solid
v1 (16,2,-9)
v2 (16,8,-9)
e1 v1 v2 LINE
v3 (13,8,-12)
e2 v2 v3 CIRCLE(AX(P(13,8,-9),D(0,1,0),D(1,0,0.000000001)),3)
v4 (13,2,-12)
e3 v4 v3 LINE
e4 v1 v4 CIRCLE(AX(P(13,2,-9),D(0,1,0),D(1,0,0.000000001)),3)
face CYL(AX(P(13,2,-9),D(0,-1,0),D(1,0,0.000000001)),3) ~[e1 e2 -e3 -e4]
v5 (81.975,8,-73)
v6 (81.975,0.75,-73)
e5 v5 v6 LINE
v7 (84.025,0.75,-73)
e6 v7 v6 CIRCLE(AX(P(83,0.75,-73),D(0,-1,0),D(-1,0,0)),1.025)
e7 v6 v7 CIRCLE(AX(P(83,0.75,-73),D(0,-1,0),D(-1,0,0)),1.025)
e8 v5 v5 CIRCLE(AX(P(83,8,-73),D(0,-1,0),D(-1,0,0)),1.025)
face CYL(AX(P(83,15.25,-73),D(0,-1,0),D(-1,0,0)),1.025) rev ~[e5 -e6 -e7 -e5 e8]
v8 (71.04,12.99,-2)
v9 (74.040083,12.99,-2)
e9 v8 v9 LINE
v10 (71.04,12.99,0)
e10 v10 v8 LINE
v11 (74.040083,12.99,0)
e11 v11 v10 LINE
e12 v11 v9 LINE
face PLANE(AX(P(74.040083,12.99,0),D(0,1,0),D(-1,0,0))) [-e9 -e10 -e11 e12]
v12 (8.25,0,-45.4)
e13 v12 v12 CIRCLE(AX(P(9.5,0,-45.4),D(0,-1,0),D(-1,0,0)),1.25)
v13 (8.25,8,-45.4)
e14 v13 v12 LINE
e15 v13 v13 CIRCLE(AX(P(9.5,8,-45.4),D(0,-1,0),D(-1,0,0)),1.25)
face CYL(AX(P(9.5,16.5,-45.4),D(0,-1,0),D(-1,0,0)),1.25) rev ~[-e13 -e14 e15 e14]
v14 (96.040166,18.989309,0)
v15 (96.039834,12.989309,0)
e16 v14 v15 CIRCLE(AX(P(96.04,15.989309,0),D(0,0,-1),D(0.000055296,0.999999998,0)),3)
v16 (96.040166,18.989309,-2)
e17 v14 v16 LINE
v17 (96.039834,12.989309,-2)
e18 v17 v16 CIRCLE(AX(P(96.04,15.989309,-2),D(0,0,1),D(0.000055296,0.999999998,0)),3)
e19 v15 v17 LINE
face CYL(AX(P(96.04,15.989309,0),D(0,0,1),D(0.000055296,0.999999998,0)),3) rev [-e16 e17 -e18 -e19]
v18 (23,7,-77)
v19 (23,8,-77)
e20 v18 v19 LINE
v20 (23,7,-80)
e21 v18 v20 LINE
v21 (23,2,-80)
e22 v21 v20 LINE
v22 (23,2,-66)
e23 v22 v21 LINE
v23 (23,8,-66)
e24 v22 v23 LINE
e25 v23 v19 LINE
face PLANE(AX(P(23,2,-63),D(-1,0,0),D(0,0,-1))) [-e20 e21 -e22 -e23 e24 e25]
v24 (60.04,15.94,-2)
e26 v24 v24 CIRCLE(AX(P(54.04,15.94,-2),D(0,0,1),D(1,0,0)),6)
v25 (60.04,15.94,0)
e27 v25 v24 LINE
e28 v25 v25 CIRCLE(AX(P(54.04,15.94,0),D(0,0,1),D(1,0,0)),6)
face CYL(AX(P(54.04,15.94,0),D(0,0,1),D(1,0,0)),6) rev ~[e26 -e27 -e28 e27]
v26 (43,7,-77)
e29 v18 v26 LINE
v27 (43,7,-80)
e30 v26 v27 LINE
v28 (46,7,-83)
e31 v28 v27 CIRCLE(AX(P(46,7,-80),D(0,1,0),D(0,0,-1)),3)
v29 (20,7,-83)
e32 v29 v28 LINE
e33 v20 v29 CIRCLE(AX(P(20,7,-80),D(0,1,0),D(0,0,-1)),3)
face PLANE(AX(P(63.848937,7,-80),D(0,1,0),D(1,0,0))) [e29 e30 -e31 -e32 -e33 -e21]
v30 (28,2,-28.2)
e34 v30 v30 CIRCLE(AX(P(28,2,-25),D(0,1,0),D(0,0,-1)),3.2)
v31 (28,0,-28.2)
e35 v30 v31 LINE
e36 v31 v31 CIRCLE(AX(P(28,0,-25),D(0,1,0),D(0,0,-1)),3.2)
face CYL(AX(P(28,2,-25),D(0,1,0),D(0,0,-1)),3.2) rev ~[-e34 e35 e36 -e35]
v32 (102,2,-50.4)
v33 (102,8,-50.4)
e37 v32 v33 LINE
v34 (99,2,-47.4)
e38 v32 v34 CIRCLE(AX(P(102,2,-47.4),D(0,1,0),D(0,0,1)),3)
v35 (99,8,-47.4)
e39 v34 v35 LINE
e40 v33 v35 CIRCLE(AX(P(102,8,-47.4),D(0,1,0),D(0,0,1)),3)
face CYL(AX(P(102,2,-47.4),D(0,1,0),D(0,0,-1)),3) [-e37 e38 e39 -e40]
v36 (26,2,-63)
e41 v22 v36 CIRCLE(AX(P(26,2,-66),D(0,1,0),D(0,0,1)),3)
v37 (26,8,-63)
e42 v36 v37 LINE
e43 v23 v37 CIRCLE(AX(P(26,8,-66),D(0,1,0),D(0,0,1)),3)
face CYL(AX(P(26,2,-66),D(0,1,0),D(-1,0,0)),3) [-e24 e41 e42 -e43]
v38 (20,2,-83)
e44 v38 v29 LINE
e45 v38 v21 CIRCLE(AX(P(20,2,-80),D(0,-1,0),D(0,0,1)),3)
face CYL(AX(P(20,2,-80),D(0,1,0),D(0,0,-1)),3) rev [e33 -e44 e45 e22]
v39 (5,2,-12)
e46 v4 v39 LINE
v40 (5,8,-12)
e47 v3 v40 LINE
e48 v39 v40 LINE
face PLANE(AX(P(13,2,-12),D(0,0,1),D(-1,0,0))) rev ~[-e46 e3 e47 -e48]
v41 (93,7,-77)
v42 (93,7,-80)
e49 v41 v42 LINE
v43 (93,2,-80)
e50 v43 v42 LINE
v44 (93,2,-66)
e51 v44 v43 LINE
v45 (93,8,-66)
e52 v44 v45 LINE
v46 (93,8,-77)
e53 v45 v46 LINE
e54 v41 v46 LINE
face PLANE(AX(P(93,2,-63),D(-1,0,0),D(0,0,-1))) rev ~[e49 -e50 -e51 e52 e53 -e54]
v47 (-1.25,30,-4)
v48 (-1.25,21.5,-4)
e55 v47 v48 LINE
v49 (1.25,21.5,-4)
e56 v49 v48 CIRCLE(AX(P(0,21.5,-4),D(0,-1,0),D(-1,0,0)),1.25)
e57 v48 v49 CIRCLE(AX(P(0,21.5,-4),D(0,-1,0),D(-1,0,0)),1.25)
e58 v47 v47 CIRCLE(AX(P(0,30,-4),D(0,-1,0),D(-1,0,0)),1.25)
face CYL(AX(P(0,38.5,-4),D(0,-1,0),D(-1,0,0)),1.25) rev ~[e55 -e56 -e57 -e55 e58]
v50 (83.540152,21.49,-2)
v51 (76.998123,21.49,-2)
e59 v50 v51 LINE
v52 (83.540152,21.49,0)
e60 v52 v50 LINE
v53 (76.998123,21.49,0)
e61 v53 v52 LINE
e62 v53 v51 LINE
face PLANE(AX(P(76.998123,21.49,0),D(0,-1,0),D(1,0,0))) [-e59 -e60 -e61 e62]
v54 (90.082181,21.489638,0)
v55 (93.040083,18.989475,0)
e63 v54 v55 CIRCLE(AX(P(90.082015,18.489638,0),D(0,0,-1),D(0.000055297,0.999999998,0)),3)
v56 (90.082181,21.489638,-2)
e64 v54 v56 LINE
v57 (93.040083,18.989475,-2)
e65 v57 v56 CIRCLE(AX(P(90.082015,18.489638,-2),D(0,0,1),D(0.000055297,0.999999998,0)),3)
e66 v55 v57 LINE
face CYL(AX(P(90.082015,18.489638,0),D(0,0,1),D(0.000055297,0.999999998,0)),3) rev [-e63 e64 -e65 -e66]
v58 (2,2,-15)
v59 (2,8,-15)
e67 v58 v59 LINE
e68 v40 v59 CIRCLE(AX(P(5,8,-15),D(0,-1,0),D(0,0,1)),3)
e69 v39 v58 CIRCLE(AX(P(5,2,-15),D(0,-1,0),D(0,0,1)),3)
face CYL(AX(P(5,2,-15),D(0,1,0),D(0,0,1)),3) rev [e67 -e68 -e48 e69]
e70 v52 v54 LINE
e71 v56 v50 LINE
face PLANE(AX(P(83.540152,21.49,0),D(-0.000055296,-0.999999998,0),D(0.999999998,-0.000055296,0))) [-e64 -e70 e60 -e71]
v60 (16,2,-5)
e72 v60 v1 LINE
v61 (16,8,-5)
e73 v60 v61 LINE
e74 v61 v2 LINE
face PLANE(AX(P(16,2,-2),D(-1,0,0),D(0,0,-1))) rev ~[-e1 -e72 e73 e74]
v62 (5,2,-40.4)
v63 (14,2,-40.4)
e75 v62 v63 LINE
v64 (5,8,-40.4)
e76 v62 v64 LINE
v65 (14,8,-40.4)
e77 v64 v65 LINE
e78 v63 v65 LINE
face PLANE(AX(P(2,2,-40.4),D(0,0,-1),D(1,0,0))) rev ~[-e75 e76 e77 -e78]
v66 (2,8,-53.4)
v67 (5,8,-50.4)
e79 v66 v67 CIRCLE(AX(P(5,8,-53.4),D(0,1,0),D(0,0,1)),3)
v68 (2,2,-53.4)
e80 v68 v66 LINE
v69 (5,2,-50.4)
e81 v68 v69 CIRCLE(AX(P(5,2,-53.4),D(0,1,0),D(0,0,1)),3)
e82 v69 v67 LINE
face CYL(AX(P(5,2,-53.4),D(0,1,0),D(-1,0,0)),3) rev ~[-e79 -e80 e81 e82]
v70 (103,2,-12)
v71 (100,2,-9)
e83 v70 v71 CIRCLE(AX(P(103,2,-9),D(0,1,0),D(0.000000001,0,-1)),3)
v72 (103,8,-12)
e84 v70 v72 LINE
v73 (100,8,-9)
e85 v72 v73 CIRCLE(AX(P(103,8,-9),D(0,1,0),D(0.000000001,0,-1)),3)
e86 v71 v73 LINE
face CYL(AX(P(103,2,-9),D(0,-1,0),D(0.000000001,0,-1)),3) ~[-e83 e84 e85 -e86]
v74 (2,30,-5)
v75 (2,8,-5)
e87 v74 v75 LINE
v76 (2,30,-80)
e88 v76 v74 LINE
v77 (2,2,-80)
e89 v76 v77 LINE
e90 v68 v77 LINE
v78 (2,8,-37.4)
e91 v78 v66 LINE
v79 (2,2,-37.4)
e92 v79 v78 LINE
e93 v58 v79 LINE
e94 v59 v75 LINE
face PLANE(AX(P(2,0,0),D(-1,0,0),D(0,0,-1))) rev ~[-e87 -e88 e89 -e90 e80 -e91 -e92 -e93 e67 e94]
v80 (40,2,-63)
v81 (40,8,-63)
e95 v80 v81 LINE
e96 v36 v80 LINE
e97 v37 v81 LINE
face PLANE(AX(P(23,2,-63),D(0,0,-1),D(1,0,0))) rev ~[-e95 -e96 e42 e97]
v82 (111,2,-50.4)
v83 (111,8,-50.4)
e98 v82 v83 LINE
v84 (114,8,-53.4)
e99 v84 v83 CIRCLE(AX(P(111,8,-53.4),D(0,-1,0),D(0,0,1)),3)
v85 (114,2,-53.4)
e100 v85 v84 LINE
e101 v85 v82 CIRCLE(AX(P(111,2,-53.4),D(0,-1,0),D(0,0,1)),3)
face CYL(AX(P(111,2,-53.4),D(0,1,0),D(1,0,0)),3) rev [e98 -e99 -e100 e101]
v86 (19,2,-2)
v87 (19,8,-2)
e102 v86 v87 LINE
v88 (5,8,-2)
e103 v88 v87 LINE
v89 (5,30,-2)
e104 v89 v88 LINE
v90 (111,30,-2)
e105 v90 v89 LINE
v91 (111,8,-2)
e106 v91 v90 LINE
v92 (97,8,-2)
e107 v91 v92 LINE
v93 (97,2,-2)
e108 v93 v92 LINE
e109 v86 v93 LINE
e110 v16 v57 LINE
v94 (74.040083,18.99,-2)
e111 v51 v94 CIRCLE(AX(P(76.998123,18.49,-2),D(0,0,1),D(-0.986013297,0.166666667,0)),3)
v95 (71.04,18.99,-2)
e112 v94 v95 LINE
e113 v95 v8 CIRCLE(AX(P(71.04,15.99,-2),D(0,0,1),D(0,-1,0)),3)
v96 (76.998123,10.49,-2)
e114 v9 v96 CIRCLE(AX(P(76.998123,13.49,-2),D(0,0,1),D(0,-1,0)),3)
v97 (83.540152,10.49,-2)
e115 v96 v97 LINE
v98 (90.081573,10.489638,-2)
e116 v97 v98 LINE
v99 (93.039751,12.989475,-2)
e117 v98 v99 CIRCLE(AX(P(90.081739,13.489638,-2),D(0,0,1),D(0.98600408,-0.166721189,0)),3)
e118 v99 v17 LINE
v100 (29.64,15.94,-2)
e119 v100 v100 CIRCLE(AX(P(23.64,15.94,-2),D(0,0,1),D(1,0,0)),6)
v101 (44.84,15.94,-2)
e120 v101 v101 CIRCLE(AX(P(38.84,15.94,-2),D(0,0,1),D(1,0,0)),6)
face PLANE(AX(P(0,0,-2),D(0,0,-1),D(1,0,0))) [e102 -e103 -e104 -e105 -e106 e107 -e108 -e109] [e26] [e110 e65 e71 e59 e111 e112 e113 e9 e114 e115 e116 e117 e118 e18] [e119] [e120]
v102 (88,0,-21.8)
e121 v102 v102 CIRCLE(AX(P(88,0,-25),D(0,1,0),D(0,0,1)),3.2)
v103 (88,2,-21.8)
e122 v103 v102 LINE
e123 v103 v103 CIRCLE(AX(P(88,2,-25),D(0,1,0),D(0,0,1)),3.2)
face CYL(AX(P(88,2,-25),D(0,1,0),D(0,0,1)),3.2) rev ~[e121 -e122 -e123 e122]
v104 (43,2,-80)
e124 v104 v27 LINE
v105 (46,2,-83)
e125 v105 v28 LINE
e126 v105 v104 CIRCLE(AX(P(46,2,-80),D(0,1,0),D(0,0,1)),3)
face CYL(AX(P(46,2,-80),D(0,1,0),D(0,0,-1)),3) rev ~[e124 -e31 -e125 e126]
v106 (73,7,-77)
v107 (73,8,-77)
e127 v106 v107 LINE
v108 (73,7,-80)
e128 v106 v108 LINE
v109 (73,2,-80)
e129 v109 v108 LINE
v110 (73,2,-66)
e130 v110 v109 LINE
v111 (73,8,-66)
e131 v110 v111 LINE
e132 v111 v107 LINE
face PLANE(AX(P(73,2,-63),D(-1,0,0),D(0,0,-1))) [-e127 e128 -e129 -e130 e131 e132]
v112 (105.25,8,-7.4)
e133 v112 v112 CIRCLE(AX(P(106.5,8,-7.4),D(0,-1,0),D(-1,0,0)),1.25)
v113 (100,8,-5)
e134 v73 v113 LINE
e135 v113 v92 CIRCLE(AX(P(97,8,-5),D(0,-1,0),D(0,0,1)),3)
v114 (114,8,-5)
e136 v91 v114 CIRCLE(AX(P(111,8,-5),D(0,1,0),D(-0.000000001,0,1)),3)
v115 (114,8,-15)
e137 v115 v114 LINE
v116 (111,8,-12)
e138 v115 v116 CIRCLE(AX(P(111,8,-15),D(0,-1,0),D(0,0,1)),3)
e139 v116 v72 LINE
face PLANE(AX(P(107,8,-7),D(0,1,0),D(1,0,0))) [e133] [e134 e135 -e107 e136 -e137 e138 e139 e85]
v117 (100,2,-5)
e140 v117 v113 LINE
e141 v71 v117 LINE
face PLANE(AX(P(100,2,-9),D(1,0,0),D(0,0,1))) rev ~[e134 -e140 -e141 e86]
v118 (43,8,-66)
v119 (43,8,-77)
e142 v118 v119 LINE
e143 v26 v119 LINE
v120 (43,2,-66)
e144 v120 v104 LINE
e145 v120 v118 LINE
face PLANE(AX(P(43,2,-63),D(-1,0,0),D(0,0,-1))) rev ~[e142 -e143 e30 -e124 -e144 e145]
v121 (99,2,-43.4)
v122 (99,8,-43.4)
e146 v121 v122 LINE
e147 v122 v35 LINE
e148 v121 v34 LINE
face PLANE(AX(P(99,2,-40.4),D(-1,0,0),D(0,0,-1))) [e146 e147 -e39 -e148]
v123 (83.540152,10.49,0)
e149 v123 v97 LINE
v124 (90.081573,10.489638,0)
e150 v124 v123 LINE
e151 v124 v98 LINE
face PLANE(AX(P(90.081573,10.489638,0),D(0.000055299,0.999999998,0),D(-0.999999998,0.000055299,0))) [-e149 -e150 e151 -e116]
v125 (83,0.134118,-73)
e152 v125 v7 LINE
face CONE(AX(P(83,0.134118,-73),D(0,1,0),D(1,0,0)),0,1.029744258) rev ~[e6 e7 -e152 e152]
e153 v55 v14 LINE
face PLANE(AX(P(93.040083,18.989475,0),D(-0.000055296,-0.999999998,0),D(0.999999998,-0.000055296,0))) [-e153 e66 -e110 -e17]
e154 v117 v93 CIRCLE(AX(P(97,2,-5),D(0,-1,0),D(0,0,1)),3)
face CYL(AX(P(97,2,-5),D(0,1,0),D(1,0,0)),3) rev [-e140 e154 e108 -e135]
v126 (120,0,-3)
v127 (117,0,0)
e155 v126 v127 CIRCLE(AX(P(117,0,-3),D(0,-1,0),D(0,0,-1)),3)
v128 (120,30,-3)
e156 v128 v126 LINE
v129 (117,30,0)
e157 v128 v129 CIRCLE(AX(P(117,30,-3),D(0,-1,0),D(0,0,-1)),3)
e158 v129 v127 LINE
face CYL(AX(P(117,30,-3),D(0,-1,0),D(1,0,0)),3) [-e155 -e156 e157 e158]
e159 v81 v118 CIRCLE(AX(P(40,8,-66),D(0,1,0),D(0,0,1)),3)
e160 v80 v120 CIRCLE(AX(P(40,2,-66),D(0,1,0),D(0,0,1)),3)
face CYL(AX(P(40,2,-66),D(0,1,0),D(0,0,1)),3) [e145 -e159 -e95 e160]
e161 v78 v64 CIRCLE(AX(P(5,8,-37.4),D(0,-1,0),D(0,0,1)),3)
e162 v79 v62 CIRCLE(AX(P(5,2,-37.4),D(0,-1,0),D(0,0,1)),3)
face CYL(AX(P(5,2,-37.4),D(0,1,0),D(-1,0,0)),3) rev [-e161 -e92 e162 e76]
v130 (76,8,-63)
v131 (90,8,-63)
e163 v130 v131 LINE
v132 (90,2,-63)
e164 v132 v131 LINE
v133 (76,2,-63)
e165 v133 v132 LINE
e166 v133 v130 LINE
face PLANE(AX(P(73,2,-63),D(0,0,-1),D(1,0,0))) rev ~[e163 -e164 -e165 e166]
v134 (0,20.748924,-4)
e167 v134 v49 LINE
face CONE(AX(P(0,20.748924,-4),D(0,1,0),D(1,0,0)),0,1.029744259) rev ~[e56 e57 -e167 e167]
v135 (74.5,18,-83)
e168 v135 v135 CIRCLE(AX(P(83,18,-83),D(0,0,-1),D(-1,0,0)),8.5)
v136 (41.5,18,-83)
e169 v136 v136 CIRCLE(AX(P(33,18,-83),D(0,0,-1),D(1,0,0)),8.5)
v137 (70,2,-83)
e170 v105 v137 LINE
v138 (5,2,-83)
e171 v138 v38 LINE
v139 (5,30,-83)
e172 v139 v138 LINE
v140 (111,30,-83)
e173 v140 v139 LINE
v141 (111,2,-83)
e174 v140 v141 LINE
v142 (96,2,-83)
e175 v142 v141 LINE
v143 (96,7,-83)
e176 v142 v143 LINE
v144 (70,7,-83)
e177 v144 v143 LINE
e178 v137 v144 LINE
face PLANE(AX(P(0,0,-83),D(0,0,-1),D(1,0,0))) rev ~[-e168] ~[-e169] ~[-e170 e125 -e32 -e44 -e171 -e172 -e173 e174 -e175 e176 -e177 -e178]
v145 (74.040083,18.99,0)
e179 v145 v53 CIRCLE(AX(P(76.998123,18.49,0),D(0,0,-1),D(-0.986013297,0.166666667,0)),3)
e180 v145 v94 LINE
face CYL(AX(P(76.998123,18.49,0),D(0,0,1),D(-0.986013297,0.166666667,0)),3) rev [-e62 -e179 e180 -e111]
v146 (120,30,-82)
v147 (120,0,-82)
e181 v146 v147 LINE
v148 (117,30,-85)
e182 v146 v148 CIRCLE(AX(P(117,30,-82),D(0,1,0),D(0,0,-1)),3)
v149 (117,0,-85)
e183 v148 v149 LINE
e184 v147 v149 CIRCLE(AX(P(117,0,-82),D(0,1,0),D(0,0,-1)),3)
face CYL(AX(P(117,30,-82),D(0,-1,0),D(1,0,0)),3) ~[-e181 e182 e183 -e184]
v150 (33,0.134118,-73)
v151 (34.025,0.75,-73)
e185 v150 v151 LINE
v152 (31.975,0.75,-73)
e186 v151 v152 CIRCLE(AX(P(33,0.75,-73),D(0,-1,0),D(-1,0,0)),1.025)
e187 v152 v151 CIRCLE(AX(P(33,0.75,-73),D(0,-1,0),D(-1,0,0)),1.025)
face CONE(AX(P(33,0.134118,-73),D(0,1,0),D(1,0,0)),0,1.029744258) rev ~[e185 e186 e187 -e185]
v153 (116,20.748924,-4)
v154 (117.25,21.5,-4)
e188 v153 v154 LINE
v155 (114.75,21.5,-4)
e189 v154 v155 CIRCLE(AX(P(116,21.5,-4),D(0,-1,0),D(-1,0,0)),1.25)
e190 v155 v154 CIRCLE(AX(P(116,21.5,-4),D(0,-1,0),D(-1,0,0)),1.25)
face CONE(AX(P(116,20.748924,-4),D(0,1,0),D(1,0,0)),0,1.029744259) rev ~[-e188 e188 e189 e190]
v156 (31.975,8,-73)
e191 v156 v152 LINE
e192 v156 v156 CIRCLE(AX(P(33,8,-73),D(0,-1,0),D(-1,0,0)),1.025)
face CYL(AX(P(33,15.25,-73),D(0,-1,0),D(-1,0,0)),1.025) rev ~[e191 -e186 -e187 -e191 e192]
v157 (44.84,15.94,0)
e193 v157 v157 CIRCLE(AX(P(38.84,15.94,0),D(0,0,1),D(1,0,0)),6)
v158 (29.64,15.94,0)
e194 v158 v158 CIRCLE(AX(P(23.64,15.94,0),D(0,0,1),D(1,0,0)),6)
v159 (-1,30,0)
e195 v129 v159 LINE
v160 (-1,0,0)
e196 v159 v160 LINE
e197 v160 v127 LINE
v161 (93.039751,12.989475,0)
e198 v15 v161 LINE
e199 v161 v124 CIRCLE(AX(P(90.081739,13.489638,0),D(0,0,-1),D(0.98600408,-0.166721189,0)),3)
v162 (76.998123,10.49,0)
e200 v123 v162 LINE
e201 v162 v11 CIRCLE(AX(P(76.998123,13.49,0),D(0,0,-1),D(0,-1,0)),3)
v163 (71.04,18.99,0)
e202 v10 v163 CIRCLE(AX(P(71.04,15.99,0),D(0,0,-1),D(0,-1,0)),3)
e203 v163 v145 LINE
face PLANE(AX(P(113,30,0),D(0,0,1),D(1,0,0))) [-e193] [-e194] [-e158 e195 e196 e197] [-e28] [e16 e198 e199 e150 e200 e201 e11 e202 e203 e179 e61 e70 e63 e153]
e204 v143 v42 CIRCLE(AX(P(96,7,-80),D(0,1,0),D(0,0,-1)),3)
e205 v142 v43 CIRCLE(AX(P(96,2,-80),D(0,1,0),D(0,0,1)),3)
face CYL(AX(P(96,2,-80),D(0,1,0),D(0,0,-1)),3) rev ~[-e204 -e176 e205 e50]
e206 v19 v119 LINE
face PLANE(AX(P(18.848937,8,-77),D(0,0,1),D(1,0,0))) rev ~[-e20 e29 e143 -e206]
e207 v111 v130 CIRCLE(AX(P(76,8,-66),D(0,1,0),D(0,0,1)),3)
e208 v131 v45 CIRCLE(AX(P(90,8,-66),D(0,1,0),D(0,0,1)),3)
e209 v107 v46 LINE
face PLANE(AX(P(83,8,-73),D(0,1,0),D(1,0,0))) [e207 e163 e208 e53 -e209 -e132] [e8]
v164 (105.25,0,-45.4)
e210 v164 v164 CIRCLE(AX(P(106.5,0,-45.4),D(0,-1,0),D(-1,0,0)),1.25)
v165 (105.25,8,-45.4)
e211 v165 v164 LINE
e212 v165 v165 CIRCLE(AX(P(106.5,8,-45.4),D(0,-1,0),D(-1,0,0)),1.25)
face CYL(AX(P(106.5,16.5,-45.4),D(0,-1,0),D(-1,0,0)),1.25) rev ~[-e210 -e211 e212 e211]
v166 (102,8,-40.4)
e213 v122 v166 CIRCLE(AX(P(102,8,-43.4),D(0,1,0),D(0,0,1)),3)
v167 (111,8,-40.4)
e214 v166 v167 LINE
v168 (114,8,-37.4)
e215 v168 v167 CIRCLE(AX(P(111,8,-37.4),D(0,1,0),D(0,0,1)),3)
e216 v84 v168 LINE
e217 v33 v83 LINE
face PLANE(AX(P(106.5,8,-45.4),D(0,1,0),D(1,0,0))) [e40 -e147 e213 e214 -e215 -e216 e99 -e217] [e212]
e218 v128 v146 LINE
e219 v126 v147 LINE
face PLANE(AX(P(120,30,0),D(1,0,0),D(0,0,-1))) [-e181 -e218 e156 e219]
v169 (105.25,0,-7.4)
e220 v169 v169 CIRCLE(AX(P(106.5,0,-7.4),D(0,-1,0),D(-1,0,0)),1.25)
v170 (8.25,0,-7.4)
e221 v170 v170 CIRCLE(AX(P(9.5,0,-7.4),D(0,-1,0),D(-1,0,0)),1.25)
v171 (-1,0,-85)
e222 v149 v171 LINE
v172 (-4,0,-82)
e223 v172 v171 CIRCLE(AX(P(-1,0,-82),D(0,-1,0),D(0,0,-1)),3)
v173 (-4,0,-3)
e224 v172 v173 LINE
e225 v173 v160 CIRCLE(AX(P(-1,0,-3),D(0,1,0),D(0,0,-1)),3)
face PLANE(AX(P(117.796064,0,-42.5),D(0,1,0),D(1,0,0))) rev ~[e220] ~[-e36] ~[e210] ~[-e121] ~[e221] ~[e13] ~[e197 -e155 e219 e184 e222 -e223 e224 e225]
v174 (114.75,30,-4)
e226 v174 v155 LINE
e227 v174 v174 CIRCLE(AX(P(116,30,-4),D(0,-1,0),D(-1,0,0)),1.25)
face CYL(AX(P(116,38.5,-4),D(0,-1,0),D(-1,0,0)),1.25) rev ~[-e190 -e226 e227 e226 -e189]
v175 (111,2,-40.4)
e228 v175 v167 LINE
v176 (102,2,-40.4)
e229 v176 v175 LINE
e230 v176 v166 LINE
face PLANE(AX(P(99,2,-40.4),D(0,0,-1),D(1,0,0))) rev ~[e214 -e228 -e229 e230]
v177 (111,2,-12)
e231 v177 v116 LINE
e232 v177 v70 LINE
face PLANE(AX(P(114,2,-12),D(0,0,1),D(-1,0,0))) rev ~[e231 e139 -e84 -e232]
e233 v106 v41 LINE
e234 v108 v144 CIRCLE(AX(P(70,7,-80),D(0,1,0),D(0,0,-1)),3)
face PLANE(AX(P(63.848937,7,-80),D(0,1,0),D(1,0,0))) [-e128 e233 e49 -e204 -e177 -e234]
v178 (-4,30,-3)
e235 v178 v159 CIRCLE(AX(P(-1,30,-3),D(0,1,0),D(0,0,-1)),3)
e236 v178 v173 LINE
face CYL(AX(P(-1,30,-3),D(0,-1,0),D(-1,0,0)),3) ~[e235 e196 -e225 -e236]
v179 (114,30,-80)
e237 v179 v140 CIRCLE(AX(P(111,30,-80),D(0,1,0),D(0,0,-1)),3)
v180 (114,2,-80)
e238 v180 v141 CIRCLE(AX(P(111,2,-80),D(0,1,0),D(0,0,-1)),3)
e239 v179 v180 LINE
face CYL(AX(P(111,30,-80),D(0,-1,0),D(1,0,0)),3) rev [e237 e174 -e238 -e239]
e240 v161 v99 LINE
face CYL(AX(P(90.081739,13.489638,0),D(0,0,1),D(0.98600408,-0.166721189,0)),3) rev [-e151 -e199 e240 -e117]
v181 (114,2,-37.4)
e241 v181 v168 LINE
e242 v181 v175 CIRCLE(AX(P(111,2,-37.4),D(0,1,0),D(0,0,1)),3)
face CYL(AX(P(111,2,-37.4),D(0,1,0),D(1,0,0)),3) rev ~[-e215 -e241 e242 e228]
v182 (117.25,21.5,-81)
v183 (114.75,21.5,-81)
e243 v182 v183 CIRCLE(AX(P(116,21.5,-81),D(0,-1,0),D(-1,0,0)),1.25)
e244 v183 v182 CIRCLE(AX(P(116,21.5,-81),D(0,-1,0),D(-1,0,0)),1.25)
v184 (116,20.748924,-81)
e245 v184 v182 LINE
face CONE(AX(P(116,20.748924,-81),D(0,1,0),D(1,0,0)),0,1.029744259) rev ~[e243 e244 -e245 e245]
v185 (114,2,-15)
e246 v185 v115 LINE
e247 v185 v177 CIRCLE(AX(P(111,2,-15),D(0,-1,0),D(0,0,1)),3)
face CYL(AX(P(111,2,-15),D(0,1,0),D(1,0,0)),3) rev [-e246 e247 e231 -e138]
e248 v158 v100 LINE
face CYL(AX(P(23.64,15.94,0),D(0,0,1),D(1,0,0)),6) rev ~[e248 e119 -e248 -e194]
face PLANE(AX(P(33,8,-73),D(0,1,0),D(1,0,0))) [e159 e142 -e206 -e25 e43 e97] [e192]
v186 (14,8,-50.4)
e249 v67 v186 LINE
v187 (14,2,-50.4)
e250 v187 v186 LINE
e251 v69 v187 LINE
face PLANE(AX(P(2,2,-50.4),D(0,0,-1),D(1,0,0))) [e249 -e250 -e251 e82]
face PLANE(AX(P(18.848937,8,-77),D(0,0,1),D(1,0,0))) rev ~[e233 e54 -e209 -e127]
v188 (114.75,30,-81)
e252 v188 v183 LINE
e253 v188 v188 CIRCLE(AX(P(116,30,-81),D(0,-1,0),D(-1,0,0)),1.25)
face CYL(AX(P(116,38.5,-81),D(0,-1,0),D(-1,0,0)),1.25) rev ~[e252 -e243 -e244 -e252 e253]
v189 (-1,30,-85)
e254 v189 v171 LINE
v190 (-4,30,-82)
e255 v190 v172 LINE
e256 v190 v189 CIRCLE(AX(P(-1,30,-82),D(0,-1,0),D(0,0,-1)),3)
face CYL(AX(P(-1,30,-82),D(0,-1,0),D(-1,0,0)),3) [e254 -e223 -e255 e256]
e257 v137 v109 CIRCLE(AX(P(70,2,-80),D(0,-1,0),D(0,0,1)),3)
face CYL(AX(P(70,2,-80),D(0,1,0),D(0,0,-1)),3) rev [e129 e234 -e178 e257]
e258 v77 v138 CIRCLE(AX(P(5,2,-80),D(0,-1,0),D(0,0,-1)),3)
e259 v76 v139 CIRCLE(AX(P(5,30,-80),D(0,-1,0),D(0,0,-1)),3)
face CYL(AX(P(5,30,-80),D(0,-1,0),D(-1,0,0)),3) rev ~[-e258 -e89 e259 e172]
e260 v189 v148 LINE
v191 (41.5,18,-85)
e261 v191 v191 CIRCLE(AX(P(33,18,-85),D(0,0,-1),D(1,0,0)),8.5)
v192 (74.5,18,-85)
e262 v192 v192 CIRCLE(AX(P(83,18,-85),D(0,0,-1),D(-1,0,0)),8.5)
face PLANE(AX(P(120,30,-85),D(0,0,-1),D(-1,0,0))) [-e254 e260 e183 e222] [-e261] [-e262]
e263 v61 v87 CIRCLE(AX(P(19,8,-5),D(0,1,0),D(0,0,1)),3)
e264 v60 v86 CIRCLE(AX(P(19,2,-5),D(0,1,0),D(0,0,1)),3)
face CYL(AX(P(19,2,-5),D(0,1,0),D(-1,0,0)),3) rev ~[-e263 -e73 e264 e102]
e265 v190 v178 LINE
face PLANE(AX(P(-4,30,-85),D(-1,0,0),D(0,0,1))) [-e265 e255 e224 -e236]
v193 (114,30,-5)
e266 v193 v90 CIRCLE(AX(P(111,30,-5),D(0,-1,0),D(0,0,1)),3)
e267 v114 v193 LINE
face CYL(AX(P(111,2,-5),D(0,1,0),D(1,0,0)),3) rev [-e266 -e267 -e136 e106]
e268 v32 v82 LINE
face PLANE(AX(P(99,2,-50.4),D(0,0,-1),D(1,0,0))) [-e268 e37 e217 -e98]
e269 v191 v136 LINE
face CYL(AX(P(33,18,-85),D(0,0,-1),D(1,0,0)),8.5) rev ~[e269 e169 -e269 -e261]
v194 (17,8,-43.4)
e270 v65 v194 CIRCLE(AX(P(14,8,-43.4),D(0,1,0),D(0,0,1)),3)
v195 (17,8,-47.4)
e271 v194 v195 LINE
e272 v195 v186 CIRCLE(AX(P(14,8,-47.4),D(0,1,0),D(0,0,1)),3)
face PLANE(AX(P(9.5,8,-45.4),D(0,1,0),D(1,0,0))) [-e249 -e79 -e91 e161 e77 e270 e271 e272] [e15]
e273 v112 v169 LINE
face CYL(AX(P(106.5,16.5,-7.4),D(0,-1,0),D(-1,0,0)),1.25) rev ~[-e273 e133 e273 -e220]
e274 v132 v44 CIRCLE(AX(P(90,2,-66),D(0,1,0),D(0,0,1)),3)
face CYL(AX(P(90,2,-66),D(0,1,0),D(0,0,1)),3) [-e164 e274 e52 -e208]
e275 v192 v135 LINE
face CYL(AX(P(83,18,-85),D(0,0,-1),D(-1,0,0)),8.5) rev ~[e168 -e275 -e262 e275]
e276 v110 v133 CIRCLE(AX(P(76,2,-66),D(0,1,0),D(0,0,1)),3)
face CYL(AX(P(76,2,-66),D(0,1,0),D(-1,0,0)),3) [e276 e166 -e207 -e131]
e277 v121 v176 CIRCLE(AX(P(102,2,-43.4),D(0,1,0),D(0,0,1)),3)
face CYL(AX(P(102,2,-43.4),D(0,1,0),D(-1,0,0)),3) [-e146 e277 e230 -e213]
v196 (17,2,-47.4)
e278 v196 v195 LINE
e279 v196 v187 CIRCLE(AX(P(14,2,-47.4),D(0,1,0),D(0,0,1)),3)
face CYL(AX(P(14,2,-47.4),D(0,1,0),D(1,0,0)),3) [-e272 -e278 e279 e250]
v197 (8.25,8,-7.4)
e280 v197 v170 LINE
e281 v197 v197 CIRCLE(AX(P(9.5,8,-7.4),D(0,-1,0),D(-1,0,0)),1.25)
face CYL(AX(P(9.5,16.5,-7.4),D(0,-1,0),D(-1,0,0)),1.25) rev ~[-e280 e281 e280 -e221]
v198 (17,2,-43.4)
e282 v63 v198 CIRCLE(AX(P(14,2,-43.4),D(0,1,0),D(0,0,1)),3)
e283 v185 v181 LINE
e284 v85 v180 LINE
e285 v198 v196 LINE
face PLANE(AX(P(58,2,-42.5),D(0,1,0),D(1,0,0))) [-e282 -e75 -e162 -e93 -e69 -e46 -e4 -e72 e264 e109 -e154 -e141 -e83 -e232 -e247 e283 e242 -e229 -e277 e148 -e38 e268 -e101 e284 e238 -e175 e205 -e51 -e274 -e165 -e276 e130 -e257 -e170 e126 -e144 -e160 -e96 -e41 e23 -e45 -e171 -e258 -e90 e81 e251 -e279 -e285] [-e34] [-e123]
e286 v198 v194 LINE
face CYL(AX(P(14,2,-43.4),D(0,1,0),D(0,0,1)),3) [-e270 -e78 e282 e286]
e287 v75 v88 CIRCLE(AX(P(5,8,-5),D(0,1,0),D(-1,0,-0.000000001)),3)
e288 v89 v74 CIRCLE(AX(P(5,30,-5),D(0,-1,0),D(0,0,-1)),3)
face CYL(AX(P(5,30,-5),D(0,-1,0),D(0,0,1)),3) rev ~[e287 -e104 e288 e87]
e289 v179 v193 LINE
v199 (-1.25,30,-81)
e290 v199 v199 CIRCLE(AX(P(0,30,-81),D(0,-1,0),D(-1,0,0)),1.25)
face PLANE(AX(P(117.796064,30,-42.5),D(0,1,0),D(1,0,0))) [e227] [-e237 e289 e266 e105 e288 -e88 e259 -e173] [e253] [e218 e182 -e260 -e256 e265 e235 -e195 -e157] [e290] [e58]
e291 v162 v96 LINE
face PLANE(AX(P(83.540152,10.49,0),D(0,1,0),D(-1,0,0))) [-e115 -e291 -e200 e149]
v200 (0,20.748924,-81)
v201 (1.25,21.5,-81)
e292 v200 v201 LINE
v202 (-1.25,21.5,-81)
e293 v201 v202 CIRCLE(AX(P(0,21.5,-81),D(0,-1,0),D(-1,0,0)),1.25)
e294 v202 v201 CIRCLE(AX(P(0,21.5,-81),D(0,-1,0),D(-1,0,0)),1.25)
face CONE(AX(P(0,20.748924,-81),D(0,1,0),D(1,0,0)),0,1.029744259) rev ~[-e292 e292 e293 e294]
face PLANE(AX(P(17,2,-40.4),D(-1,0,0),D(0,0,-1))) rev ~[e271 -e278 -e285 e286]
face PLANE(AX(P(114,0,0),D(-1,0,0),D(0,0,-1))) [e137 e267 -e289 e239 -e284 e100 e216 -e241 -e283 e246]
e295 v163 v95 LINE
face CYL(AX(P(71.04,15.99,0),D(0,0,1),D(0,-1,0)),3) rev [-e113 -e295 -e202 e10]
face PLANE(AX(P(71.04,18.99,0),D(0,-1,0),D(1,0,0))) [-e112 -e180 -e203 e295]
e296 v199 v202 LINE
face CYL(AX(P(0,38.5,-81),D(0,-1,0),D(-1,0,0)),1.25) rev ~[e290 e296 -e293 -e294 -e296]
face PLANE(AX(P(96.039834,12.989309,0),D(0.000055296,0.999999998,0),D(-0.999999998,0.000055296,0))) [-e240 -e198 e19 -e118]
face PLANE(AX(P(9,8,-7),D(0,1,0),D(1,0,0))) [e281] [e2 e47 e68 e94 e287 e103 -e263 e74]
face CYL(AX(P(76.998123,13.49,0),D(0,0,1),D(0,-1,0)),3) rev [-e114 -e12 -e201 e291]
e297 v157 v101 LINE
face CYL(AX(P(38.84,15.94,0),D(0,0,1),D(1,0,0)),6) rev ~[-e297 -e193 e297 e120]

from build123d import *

# Parameters (mm, degrees)
SKIZZE1_W                       = 116
SKIZZE1_H                       = 85
AUFSATZ_LINEAR_AUSTRAGEN1_DEPTH = 30
SCHALE1_T                       = -2
SKIZZE2_R                       = 6
SCHNITT_LINEAR_AUSTRAGEN1_DEPTH = 30
SCHNITT_LINEAR_AUSTRAGEN2_DEPTH = 10
VERRUNDUNG1_R                   = 3
AUFSATZ_LINEAR_AUSTRAGEN2_DEPTH = 6
VERRUNDUNG2_R                   = 3
SKIZZE5_W                       = 15
SKIZZE5_H                       = 10
AUFSATZ_LINEAR_AUSTRAGEN3_DEPTH = 6
VERRUNDUNG3_R                   = 3
SKIZZE6_R                       = 8.5
SCHNITT_LINEAR_AUSTRAGEN3_DEPTH = 5
SKIZZE7_W                       = 20
SKIZZE7_H                       = 20
AUFSATZ_LINEAR_AUSTRAGEN4_DEPTH = 6
VERRUNDUNG4_R                   = 3
M3_GEWINDEBOHRUNG1_D            = 2.5
M3_GEWINDEBOHRUNG1_DEPTH        = 8.5
M3_GEWINDEBOHRUNG1_TIP          = 0.751075774
M2_5_GEWINDEBOHRUNG1_D          = 2.05
M2_5_GEWINDEBOHRUNG1_DEPTH      = 7.25
M2_5_GEWINDEBOHRUNG1_TIP        = 0.615882135
SKIZZE12_W                      = 90
SKIZZE12_H                      = 6
SCHNITT_LINEAR_AUSTRAGEN4_DEPTH = 1
SKIZZE13_R                      = 3.2
SCHNITT_LINEAR_AUSTRAGEN5_DEPTH = 10
AUFSATZ_LINEAR_START            = -30
AUFSATZ_LINEAR_AUSTRAGEN5_DEPTH = 30
VERRUNDUNG5_R                   = 3
M3_GEWINDEBOHRUNG2_D            = 2.5
M3_GEWINDEBOHRUNG2_DEPTH        = 8.5
M3_GEWINDEBOHRUNG2_TIP          = 0.751075774


with BuildPart() as part:
    # Skizze1 → Aufsatz-Linear austragen1 (new body)
    with BuildSketch(Plane(origin=(0, 0, 0), x_dir=(1, 0, 0), z_dir=(0, 1, 0))):
        with Locations((58, 42.5)):
            Rectangle(SKIZZE1_W, SKIZZE1_H)
    extrude(amount=AUFSATZ_LINEAR_AUSTRAGEN1_DEPTH)

    # Schale1
    schale1_openings = [part.faces().sort_by_distance(p)[0] for p in [
        (58, 30, -42.5),
    ]]
    offset(amount=SCHALE1_T, openings=schale1_openings, kind=Kind.INTERSECTION)

    # Skizze2 → Schnitt-Linear austragen1 (cut)
    with BuildSketch(Plane.XY):
        with Locations((23.64, 15.94)):
            Circle(SKIZZE2_R)
        with Locations((38.84, 15.94)):
            Circle(SKIZZE2_R)
        with Locations((54.04, 15.94)):
            Circle(SKIZZE2_R)
    extrude(amount=-SCHNITT_LINEAR_AUSTRAGEN1_DEPTH, mode=Mode.SUBTRACT)

    # Skizze3 → Schnitt-Linear austragen2 (cut)
    with BuildSketch(Plane.XY):
        with BuildLine():
            ThreePointArc((90.082181292, 21.48963825), (92.018633773, 20.780819017), (93.040082938, 18.989474685))
            Line((93.040082938, 18.989474685), (96.04016588, 18.989308791))
            ThreePointArc((96.04016588, 18.989308791), (99.039999986, 15.989142906), (96.039834101, 12.9893088))
            Line((96.039834101, 12.9893088), (93.03975116, 12.989474694))
            ThreePointArc((93.03975116, 12.989474694), (92.018103892, 11.198243337), (90.081573032, 10.489638266))
            Line((90.081573032, 10.489638266), (83.54015207, 10.49))
            Line((83.54015207, 10.49), (76.998122837, 10.49))
            ThreePointArc((76.998122837, 10.49), (75.061631164, 11.198712153), (74.040082946, 12.99))
            Line((74.040082946, 12.99), (71.04, 12.99))
            ThreePointArc((71.04, 12.99), (68.04, 15.99), (71.04, 18.99))
            Line((71.04, 18.99), (74.040082946, 18.99))
            ThreePointArc((74.040082946, 18.99), (75.061631164, 20.781287847), (76.998122837, 21.49))
            Line((76.998122837, 21.49), (83.54015207, 21.49))
            Line((83.54015207, 21.49), (90.082181292, 21.48963825))
        make_face()
    extrude(amount=-SCHNITT_LINEAR_AUSTRAGEN2_DEPTH, mode=Mode.SUBTRACT)

    # Verrundung1
    verrundung1_edges = [part.edges().sort_by_distance(p)[0] for p in [
        (2, 16, -83),
        (2, 16, -2),
        (114, 16, -2),
        (114, 16, -83),
        (0, 15, -85),
        (116, 15, -85),
        (116, 15, 0),
        (0, 15, 0),
    ]]
    fillet(verrundung1_edges, radius=VERRUNDUNG1_R)

    # Skizze4 → Aufsatz-Linear austragen2 (add)
    with BuildSketch(Plane(origin=(0, 2, 0), x_dir=(1, 0, 0), z_dir=(0, 1, 0))):
        with BuildLine():
            Line((13, 12), (2, 12))
            Line((2, 12), (2, 5))
            ThreePointArc((2, 5), (2.878679656, 2.878679656), (5, 2))
            Line((5, 2), (16, 2))
            Line((16, 2), (16, 9))
            ThreePointArc((16, 9), (15.121320344, 11.121320344), (13, 12))
        make_face()
        with BuildLine():
            Line((100, 9), (100, 2))
            Line((100, 2), (111, 2))
            ThreePointArc((111, 2), (113.121320344, 2.878679656), (114, 5))
            Line((114, 5), (114, 12))
            Line((114, 12), (103, 12))
            ThreePointArc((103, 12), (100.878679656, 11.121320344), (100, 9))
        make_face()
    extrude(amount=AUFSATZ_LINEAR_AUSTRAGEN2_DEPTH)

    # Verrundung2
    verrundung2_edges = [part.edges().sort_by_distance(p)[0] for p in [
        (2, 5, -12),
        (16, 5, -2),
        (114, 5, -12),
        (100, 5, -2),
    ]]
    fillet(verrundung2_edges, radius=VERRUNDUNG2_R)

    # Skizze5 → Aufsatz-Linear austragen3 (add)
    with BuildSketch(Plane(origin=(0, 2, 0), x_dir=(1, 0, 0), z_dir=(0, 1, 0))):
        with Locations((9.5, 45.4)):
            Rectangle(SKIZZE5_W, SKIZZE5_H)
        with Locations((106.5, 45.4)):
            Rectangle(SKIZZE5_W, SKIZZE5_H)
    extrude(amount=AUFSATZ_LINEAR_AUSTRAGEN3_DEPTH)

    # Verrundung3
    verrundung3_edges = [part.edges().sort_by_distance(p)[0] for p in [
        (2, 5, -50.4),
        (2, 5, -40.4),
        (17, 5, -40.4),
        (17, 5, -50.4),
        (114, 5, -50.4),
        (99, 5, -50.4),
        (99, 5, -40.4),
        (114, 5, -40.4),
    ]]
    fillet(verrundung3_edges, radius=VERRUNDUNG3_R)

    # Skizze6 → Schnitt-Linear austragen3 (cut)
    with BuildSketch(Plane(origin=(0, 0, -85), x_dir=(-1, 0, 0), z_dir=(0, 0, -1))):
        with Locations((-83, 18)):
            Circle(SKIZZE6_R)
        with Locations(Location((-33, 18, 0), (0, 0, 180))):
            Circle(SKIZZE6_R)
    extrude(amount=-SCHNITT_LINEAR_AUSTRAGEN3_DEPTH, mode=Mode.SUBTRACT)

    # Skizze7 → Aufsatz-Linear austragen4 (add)
    with BuildSketch(Plane(origin=(0, 2, 0), x_dir=(1, 0, 0), z_dir=(0, 1, 0))):
        with Locations((33, 73)):
            Rectangle(SKIZZE7_W, SKIZZE7_H)
        with Locations((83, 73)):
            Rectangle(SKIZZE7_W, SKIZZE7_H)
    extrude(amount=AUFSATZ_LINEAR_AUSTRAGEN4_DEPTH)

    # Verrundung4
    verrundung4_edges = [part.edges().sort_by_distance(p)[0] for p in [
        (23, 5, -63),
        (43, 5, -63),
        (43, 5, -83),
        (23, 5, -83),
        (73, 5, -63),
        (93, 5, -63),
        (93, 5, -83),
        (73, 5, -83),
    ]]
    fillet(verrundung4_edges, radius=VERRUNDUNG4_R)

    # M3 Gewindebohrung1
    with Locations(Plane(origin=(0, 8, 0), x_dir=(1, 0, 0), z_dir=(0, 1, 0))):
        with Locations((106.5, 7.4), (9.5, 45.4), (106.5, 45.4), (9.5, 7.4)):
            Hole(M3_GEWINDEBOHRUNG1_D / 2, depth=M3_GEWINDEBOHRUNG1_DEPTH)
            with Locations((0, 0, -(M3_GEWINDEBOHRUNG1_DEPTH + M3_GEWINDEBOHRUNG1_TIP / 2))):  # 118° drill point
                Cone(0, M3_GEWINDEBOHRUNG1_D / 2, M3_GEWINDEBOHRUNG1_TIP, mode=Mode.SUBTRACT)

    # M2.5 Gewindebohrung1
    with Locations(Plane(origin=(0, 8, 0), x_dir=(1, 0, 0), z_dir=(0, 1, 0))):
        with Locations((33, 73), (83, 73)):
            Hole(M2_5_GEWINDEBOHRUNG1_D / 2, depth=M2_5_GEWINDEBOHRUNG1_DEPTH)
            with Locations((0, 0, -(M2_5_GEWINDEBOHRUNG1_DEPTH + M2_5_GEWINDEBOHRUNG1_TIP / 2))):  # 118° drill point
                Cone(0, M2_5_GEWINDEBOHRUNG1_D / 2, M2_5_GEWINDEBOHRUNG1_TIP, mode=Mode.SUBTRACT)

    # Skizze12 → Schnitt-Linear austragen4 (cut)
    with BuildSketch(Plane(origin=(0, 8, 0), x_dir=(1, 0, 0), z_dir=(0, 1, 0))):
        with Locations((63.848936769, 80)):
            Rectangle(SKIZZE12_W, SKIZZE12_H)
    extrude(amount=-SCHNITT_LINEAR_AUSTRAGEN4_DEPTH, mode=Mode.SUBTRACT)

    # Skizze13 → Schnitt-Linear austragen5 (cut)
    with BuildSketch(Plane(origin=(0, 2, 0), x_dir=(1, 0, 0), z_dir=(0, 1, 0))):
        with Locations(Location((88, 25, 0), (0, 0, 270))):
            Circle(SKIZZE13_R)
        with Locations(Location((28, 25, 0), (0, 0, 90))):
            Circle(SKIZZE13_R)
    extrude(amount=-SCHNITT_LINEAR_AUSTRAGEN5_DEPTH, mode=Mode.SUBTRACT)

    # Skizze14 → Aufsatz-Linear austragen5 (add)
    with BuildSketch(Plane(origin=(0, 0, 0), x_dir=(-1, 0, 0), z_dir=(0, -1, 0)).offset(AUFSATZ_LINEAR_START)):
        with BuildLine():
            Line((-116, 0), (-120, 0))
            Line((-120, 0), (-120, 85))
            Line((-120, 85), (-116, 85))
            Line((-116, 85), (-113, 85))
            ThreePointArc((-113, 85), (-115.121320344, 84.121320344), (-116, 82))
            Line((-116, 82), (-116, 3))
            ThreePointArc((-116, 3), (-115.121320344, 0.878679656), (-113, 0))
            Line((-113, 0), (-116, 0))
        make_face()
        with BuildLine():
            Line((0, 85), (4, 85))
            Line((4, 85), (4, 0))
            Line((4, 0), (0, 0))
            Line((0, 0), (-3, 0))
            ThreePointArc((-3, 0), (-0.878679656, 0.878679656), (0, 3))
            Line((0, 3), (0, 82))
            ThreePointArc((0, 82), (-0.878679656, 84.121320344), (-3, 85))
            Line((-3, 85), (0, 85))
        make_face()
    extrude(amount=AUFSATZ_LINEAR_AUSTRAGEN5_DEPTH)

    # Verrundung5
    verrundung5_edges = [part.edges().sort_by_distance(p)[0] for p in [
        (120, 15, 0),
        (120, 15, -85),
        (-4, 15, -85),
        (-4, 15, 0),
    ]]
    fillet(verrundung5_edges, radius=VERRUNDUNG5_R)

    # M3 Gewindebohrung2
    with Locations(Plane(origin=(0, 30, 0), x_dir=(1, 0, 0), z_dir=(0, 1, 0))):
        with Locations((0, 4), (116, 81), (0, 81), (116, 4)):
            Hole(M3_GEWINDEBOHRUNG2_D / 2, depth=M3_GEWINDEBOHRUNG2_DEPTH)
            with Locations((0, 0, -(M3_GEWINDEBOHRUNG2_DEPTH + M3_GEWINDEBOHRUNG2_TIP / 2))):  # 118° drill point
                Cone(0, M3_GEWINDEBOHRUNG2_D / 2, M3_GEWINDEBOHRUNG2_TIP, mode=Mode.SUBTRACT)


solid = part.part
